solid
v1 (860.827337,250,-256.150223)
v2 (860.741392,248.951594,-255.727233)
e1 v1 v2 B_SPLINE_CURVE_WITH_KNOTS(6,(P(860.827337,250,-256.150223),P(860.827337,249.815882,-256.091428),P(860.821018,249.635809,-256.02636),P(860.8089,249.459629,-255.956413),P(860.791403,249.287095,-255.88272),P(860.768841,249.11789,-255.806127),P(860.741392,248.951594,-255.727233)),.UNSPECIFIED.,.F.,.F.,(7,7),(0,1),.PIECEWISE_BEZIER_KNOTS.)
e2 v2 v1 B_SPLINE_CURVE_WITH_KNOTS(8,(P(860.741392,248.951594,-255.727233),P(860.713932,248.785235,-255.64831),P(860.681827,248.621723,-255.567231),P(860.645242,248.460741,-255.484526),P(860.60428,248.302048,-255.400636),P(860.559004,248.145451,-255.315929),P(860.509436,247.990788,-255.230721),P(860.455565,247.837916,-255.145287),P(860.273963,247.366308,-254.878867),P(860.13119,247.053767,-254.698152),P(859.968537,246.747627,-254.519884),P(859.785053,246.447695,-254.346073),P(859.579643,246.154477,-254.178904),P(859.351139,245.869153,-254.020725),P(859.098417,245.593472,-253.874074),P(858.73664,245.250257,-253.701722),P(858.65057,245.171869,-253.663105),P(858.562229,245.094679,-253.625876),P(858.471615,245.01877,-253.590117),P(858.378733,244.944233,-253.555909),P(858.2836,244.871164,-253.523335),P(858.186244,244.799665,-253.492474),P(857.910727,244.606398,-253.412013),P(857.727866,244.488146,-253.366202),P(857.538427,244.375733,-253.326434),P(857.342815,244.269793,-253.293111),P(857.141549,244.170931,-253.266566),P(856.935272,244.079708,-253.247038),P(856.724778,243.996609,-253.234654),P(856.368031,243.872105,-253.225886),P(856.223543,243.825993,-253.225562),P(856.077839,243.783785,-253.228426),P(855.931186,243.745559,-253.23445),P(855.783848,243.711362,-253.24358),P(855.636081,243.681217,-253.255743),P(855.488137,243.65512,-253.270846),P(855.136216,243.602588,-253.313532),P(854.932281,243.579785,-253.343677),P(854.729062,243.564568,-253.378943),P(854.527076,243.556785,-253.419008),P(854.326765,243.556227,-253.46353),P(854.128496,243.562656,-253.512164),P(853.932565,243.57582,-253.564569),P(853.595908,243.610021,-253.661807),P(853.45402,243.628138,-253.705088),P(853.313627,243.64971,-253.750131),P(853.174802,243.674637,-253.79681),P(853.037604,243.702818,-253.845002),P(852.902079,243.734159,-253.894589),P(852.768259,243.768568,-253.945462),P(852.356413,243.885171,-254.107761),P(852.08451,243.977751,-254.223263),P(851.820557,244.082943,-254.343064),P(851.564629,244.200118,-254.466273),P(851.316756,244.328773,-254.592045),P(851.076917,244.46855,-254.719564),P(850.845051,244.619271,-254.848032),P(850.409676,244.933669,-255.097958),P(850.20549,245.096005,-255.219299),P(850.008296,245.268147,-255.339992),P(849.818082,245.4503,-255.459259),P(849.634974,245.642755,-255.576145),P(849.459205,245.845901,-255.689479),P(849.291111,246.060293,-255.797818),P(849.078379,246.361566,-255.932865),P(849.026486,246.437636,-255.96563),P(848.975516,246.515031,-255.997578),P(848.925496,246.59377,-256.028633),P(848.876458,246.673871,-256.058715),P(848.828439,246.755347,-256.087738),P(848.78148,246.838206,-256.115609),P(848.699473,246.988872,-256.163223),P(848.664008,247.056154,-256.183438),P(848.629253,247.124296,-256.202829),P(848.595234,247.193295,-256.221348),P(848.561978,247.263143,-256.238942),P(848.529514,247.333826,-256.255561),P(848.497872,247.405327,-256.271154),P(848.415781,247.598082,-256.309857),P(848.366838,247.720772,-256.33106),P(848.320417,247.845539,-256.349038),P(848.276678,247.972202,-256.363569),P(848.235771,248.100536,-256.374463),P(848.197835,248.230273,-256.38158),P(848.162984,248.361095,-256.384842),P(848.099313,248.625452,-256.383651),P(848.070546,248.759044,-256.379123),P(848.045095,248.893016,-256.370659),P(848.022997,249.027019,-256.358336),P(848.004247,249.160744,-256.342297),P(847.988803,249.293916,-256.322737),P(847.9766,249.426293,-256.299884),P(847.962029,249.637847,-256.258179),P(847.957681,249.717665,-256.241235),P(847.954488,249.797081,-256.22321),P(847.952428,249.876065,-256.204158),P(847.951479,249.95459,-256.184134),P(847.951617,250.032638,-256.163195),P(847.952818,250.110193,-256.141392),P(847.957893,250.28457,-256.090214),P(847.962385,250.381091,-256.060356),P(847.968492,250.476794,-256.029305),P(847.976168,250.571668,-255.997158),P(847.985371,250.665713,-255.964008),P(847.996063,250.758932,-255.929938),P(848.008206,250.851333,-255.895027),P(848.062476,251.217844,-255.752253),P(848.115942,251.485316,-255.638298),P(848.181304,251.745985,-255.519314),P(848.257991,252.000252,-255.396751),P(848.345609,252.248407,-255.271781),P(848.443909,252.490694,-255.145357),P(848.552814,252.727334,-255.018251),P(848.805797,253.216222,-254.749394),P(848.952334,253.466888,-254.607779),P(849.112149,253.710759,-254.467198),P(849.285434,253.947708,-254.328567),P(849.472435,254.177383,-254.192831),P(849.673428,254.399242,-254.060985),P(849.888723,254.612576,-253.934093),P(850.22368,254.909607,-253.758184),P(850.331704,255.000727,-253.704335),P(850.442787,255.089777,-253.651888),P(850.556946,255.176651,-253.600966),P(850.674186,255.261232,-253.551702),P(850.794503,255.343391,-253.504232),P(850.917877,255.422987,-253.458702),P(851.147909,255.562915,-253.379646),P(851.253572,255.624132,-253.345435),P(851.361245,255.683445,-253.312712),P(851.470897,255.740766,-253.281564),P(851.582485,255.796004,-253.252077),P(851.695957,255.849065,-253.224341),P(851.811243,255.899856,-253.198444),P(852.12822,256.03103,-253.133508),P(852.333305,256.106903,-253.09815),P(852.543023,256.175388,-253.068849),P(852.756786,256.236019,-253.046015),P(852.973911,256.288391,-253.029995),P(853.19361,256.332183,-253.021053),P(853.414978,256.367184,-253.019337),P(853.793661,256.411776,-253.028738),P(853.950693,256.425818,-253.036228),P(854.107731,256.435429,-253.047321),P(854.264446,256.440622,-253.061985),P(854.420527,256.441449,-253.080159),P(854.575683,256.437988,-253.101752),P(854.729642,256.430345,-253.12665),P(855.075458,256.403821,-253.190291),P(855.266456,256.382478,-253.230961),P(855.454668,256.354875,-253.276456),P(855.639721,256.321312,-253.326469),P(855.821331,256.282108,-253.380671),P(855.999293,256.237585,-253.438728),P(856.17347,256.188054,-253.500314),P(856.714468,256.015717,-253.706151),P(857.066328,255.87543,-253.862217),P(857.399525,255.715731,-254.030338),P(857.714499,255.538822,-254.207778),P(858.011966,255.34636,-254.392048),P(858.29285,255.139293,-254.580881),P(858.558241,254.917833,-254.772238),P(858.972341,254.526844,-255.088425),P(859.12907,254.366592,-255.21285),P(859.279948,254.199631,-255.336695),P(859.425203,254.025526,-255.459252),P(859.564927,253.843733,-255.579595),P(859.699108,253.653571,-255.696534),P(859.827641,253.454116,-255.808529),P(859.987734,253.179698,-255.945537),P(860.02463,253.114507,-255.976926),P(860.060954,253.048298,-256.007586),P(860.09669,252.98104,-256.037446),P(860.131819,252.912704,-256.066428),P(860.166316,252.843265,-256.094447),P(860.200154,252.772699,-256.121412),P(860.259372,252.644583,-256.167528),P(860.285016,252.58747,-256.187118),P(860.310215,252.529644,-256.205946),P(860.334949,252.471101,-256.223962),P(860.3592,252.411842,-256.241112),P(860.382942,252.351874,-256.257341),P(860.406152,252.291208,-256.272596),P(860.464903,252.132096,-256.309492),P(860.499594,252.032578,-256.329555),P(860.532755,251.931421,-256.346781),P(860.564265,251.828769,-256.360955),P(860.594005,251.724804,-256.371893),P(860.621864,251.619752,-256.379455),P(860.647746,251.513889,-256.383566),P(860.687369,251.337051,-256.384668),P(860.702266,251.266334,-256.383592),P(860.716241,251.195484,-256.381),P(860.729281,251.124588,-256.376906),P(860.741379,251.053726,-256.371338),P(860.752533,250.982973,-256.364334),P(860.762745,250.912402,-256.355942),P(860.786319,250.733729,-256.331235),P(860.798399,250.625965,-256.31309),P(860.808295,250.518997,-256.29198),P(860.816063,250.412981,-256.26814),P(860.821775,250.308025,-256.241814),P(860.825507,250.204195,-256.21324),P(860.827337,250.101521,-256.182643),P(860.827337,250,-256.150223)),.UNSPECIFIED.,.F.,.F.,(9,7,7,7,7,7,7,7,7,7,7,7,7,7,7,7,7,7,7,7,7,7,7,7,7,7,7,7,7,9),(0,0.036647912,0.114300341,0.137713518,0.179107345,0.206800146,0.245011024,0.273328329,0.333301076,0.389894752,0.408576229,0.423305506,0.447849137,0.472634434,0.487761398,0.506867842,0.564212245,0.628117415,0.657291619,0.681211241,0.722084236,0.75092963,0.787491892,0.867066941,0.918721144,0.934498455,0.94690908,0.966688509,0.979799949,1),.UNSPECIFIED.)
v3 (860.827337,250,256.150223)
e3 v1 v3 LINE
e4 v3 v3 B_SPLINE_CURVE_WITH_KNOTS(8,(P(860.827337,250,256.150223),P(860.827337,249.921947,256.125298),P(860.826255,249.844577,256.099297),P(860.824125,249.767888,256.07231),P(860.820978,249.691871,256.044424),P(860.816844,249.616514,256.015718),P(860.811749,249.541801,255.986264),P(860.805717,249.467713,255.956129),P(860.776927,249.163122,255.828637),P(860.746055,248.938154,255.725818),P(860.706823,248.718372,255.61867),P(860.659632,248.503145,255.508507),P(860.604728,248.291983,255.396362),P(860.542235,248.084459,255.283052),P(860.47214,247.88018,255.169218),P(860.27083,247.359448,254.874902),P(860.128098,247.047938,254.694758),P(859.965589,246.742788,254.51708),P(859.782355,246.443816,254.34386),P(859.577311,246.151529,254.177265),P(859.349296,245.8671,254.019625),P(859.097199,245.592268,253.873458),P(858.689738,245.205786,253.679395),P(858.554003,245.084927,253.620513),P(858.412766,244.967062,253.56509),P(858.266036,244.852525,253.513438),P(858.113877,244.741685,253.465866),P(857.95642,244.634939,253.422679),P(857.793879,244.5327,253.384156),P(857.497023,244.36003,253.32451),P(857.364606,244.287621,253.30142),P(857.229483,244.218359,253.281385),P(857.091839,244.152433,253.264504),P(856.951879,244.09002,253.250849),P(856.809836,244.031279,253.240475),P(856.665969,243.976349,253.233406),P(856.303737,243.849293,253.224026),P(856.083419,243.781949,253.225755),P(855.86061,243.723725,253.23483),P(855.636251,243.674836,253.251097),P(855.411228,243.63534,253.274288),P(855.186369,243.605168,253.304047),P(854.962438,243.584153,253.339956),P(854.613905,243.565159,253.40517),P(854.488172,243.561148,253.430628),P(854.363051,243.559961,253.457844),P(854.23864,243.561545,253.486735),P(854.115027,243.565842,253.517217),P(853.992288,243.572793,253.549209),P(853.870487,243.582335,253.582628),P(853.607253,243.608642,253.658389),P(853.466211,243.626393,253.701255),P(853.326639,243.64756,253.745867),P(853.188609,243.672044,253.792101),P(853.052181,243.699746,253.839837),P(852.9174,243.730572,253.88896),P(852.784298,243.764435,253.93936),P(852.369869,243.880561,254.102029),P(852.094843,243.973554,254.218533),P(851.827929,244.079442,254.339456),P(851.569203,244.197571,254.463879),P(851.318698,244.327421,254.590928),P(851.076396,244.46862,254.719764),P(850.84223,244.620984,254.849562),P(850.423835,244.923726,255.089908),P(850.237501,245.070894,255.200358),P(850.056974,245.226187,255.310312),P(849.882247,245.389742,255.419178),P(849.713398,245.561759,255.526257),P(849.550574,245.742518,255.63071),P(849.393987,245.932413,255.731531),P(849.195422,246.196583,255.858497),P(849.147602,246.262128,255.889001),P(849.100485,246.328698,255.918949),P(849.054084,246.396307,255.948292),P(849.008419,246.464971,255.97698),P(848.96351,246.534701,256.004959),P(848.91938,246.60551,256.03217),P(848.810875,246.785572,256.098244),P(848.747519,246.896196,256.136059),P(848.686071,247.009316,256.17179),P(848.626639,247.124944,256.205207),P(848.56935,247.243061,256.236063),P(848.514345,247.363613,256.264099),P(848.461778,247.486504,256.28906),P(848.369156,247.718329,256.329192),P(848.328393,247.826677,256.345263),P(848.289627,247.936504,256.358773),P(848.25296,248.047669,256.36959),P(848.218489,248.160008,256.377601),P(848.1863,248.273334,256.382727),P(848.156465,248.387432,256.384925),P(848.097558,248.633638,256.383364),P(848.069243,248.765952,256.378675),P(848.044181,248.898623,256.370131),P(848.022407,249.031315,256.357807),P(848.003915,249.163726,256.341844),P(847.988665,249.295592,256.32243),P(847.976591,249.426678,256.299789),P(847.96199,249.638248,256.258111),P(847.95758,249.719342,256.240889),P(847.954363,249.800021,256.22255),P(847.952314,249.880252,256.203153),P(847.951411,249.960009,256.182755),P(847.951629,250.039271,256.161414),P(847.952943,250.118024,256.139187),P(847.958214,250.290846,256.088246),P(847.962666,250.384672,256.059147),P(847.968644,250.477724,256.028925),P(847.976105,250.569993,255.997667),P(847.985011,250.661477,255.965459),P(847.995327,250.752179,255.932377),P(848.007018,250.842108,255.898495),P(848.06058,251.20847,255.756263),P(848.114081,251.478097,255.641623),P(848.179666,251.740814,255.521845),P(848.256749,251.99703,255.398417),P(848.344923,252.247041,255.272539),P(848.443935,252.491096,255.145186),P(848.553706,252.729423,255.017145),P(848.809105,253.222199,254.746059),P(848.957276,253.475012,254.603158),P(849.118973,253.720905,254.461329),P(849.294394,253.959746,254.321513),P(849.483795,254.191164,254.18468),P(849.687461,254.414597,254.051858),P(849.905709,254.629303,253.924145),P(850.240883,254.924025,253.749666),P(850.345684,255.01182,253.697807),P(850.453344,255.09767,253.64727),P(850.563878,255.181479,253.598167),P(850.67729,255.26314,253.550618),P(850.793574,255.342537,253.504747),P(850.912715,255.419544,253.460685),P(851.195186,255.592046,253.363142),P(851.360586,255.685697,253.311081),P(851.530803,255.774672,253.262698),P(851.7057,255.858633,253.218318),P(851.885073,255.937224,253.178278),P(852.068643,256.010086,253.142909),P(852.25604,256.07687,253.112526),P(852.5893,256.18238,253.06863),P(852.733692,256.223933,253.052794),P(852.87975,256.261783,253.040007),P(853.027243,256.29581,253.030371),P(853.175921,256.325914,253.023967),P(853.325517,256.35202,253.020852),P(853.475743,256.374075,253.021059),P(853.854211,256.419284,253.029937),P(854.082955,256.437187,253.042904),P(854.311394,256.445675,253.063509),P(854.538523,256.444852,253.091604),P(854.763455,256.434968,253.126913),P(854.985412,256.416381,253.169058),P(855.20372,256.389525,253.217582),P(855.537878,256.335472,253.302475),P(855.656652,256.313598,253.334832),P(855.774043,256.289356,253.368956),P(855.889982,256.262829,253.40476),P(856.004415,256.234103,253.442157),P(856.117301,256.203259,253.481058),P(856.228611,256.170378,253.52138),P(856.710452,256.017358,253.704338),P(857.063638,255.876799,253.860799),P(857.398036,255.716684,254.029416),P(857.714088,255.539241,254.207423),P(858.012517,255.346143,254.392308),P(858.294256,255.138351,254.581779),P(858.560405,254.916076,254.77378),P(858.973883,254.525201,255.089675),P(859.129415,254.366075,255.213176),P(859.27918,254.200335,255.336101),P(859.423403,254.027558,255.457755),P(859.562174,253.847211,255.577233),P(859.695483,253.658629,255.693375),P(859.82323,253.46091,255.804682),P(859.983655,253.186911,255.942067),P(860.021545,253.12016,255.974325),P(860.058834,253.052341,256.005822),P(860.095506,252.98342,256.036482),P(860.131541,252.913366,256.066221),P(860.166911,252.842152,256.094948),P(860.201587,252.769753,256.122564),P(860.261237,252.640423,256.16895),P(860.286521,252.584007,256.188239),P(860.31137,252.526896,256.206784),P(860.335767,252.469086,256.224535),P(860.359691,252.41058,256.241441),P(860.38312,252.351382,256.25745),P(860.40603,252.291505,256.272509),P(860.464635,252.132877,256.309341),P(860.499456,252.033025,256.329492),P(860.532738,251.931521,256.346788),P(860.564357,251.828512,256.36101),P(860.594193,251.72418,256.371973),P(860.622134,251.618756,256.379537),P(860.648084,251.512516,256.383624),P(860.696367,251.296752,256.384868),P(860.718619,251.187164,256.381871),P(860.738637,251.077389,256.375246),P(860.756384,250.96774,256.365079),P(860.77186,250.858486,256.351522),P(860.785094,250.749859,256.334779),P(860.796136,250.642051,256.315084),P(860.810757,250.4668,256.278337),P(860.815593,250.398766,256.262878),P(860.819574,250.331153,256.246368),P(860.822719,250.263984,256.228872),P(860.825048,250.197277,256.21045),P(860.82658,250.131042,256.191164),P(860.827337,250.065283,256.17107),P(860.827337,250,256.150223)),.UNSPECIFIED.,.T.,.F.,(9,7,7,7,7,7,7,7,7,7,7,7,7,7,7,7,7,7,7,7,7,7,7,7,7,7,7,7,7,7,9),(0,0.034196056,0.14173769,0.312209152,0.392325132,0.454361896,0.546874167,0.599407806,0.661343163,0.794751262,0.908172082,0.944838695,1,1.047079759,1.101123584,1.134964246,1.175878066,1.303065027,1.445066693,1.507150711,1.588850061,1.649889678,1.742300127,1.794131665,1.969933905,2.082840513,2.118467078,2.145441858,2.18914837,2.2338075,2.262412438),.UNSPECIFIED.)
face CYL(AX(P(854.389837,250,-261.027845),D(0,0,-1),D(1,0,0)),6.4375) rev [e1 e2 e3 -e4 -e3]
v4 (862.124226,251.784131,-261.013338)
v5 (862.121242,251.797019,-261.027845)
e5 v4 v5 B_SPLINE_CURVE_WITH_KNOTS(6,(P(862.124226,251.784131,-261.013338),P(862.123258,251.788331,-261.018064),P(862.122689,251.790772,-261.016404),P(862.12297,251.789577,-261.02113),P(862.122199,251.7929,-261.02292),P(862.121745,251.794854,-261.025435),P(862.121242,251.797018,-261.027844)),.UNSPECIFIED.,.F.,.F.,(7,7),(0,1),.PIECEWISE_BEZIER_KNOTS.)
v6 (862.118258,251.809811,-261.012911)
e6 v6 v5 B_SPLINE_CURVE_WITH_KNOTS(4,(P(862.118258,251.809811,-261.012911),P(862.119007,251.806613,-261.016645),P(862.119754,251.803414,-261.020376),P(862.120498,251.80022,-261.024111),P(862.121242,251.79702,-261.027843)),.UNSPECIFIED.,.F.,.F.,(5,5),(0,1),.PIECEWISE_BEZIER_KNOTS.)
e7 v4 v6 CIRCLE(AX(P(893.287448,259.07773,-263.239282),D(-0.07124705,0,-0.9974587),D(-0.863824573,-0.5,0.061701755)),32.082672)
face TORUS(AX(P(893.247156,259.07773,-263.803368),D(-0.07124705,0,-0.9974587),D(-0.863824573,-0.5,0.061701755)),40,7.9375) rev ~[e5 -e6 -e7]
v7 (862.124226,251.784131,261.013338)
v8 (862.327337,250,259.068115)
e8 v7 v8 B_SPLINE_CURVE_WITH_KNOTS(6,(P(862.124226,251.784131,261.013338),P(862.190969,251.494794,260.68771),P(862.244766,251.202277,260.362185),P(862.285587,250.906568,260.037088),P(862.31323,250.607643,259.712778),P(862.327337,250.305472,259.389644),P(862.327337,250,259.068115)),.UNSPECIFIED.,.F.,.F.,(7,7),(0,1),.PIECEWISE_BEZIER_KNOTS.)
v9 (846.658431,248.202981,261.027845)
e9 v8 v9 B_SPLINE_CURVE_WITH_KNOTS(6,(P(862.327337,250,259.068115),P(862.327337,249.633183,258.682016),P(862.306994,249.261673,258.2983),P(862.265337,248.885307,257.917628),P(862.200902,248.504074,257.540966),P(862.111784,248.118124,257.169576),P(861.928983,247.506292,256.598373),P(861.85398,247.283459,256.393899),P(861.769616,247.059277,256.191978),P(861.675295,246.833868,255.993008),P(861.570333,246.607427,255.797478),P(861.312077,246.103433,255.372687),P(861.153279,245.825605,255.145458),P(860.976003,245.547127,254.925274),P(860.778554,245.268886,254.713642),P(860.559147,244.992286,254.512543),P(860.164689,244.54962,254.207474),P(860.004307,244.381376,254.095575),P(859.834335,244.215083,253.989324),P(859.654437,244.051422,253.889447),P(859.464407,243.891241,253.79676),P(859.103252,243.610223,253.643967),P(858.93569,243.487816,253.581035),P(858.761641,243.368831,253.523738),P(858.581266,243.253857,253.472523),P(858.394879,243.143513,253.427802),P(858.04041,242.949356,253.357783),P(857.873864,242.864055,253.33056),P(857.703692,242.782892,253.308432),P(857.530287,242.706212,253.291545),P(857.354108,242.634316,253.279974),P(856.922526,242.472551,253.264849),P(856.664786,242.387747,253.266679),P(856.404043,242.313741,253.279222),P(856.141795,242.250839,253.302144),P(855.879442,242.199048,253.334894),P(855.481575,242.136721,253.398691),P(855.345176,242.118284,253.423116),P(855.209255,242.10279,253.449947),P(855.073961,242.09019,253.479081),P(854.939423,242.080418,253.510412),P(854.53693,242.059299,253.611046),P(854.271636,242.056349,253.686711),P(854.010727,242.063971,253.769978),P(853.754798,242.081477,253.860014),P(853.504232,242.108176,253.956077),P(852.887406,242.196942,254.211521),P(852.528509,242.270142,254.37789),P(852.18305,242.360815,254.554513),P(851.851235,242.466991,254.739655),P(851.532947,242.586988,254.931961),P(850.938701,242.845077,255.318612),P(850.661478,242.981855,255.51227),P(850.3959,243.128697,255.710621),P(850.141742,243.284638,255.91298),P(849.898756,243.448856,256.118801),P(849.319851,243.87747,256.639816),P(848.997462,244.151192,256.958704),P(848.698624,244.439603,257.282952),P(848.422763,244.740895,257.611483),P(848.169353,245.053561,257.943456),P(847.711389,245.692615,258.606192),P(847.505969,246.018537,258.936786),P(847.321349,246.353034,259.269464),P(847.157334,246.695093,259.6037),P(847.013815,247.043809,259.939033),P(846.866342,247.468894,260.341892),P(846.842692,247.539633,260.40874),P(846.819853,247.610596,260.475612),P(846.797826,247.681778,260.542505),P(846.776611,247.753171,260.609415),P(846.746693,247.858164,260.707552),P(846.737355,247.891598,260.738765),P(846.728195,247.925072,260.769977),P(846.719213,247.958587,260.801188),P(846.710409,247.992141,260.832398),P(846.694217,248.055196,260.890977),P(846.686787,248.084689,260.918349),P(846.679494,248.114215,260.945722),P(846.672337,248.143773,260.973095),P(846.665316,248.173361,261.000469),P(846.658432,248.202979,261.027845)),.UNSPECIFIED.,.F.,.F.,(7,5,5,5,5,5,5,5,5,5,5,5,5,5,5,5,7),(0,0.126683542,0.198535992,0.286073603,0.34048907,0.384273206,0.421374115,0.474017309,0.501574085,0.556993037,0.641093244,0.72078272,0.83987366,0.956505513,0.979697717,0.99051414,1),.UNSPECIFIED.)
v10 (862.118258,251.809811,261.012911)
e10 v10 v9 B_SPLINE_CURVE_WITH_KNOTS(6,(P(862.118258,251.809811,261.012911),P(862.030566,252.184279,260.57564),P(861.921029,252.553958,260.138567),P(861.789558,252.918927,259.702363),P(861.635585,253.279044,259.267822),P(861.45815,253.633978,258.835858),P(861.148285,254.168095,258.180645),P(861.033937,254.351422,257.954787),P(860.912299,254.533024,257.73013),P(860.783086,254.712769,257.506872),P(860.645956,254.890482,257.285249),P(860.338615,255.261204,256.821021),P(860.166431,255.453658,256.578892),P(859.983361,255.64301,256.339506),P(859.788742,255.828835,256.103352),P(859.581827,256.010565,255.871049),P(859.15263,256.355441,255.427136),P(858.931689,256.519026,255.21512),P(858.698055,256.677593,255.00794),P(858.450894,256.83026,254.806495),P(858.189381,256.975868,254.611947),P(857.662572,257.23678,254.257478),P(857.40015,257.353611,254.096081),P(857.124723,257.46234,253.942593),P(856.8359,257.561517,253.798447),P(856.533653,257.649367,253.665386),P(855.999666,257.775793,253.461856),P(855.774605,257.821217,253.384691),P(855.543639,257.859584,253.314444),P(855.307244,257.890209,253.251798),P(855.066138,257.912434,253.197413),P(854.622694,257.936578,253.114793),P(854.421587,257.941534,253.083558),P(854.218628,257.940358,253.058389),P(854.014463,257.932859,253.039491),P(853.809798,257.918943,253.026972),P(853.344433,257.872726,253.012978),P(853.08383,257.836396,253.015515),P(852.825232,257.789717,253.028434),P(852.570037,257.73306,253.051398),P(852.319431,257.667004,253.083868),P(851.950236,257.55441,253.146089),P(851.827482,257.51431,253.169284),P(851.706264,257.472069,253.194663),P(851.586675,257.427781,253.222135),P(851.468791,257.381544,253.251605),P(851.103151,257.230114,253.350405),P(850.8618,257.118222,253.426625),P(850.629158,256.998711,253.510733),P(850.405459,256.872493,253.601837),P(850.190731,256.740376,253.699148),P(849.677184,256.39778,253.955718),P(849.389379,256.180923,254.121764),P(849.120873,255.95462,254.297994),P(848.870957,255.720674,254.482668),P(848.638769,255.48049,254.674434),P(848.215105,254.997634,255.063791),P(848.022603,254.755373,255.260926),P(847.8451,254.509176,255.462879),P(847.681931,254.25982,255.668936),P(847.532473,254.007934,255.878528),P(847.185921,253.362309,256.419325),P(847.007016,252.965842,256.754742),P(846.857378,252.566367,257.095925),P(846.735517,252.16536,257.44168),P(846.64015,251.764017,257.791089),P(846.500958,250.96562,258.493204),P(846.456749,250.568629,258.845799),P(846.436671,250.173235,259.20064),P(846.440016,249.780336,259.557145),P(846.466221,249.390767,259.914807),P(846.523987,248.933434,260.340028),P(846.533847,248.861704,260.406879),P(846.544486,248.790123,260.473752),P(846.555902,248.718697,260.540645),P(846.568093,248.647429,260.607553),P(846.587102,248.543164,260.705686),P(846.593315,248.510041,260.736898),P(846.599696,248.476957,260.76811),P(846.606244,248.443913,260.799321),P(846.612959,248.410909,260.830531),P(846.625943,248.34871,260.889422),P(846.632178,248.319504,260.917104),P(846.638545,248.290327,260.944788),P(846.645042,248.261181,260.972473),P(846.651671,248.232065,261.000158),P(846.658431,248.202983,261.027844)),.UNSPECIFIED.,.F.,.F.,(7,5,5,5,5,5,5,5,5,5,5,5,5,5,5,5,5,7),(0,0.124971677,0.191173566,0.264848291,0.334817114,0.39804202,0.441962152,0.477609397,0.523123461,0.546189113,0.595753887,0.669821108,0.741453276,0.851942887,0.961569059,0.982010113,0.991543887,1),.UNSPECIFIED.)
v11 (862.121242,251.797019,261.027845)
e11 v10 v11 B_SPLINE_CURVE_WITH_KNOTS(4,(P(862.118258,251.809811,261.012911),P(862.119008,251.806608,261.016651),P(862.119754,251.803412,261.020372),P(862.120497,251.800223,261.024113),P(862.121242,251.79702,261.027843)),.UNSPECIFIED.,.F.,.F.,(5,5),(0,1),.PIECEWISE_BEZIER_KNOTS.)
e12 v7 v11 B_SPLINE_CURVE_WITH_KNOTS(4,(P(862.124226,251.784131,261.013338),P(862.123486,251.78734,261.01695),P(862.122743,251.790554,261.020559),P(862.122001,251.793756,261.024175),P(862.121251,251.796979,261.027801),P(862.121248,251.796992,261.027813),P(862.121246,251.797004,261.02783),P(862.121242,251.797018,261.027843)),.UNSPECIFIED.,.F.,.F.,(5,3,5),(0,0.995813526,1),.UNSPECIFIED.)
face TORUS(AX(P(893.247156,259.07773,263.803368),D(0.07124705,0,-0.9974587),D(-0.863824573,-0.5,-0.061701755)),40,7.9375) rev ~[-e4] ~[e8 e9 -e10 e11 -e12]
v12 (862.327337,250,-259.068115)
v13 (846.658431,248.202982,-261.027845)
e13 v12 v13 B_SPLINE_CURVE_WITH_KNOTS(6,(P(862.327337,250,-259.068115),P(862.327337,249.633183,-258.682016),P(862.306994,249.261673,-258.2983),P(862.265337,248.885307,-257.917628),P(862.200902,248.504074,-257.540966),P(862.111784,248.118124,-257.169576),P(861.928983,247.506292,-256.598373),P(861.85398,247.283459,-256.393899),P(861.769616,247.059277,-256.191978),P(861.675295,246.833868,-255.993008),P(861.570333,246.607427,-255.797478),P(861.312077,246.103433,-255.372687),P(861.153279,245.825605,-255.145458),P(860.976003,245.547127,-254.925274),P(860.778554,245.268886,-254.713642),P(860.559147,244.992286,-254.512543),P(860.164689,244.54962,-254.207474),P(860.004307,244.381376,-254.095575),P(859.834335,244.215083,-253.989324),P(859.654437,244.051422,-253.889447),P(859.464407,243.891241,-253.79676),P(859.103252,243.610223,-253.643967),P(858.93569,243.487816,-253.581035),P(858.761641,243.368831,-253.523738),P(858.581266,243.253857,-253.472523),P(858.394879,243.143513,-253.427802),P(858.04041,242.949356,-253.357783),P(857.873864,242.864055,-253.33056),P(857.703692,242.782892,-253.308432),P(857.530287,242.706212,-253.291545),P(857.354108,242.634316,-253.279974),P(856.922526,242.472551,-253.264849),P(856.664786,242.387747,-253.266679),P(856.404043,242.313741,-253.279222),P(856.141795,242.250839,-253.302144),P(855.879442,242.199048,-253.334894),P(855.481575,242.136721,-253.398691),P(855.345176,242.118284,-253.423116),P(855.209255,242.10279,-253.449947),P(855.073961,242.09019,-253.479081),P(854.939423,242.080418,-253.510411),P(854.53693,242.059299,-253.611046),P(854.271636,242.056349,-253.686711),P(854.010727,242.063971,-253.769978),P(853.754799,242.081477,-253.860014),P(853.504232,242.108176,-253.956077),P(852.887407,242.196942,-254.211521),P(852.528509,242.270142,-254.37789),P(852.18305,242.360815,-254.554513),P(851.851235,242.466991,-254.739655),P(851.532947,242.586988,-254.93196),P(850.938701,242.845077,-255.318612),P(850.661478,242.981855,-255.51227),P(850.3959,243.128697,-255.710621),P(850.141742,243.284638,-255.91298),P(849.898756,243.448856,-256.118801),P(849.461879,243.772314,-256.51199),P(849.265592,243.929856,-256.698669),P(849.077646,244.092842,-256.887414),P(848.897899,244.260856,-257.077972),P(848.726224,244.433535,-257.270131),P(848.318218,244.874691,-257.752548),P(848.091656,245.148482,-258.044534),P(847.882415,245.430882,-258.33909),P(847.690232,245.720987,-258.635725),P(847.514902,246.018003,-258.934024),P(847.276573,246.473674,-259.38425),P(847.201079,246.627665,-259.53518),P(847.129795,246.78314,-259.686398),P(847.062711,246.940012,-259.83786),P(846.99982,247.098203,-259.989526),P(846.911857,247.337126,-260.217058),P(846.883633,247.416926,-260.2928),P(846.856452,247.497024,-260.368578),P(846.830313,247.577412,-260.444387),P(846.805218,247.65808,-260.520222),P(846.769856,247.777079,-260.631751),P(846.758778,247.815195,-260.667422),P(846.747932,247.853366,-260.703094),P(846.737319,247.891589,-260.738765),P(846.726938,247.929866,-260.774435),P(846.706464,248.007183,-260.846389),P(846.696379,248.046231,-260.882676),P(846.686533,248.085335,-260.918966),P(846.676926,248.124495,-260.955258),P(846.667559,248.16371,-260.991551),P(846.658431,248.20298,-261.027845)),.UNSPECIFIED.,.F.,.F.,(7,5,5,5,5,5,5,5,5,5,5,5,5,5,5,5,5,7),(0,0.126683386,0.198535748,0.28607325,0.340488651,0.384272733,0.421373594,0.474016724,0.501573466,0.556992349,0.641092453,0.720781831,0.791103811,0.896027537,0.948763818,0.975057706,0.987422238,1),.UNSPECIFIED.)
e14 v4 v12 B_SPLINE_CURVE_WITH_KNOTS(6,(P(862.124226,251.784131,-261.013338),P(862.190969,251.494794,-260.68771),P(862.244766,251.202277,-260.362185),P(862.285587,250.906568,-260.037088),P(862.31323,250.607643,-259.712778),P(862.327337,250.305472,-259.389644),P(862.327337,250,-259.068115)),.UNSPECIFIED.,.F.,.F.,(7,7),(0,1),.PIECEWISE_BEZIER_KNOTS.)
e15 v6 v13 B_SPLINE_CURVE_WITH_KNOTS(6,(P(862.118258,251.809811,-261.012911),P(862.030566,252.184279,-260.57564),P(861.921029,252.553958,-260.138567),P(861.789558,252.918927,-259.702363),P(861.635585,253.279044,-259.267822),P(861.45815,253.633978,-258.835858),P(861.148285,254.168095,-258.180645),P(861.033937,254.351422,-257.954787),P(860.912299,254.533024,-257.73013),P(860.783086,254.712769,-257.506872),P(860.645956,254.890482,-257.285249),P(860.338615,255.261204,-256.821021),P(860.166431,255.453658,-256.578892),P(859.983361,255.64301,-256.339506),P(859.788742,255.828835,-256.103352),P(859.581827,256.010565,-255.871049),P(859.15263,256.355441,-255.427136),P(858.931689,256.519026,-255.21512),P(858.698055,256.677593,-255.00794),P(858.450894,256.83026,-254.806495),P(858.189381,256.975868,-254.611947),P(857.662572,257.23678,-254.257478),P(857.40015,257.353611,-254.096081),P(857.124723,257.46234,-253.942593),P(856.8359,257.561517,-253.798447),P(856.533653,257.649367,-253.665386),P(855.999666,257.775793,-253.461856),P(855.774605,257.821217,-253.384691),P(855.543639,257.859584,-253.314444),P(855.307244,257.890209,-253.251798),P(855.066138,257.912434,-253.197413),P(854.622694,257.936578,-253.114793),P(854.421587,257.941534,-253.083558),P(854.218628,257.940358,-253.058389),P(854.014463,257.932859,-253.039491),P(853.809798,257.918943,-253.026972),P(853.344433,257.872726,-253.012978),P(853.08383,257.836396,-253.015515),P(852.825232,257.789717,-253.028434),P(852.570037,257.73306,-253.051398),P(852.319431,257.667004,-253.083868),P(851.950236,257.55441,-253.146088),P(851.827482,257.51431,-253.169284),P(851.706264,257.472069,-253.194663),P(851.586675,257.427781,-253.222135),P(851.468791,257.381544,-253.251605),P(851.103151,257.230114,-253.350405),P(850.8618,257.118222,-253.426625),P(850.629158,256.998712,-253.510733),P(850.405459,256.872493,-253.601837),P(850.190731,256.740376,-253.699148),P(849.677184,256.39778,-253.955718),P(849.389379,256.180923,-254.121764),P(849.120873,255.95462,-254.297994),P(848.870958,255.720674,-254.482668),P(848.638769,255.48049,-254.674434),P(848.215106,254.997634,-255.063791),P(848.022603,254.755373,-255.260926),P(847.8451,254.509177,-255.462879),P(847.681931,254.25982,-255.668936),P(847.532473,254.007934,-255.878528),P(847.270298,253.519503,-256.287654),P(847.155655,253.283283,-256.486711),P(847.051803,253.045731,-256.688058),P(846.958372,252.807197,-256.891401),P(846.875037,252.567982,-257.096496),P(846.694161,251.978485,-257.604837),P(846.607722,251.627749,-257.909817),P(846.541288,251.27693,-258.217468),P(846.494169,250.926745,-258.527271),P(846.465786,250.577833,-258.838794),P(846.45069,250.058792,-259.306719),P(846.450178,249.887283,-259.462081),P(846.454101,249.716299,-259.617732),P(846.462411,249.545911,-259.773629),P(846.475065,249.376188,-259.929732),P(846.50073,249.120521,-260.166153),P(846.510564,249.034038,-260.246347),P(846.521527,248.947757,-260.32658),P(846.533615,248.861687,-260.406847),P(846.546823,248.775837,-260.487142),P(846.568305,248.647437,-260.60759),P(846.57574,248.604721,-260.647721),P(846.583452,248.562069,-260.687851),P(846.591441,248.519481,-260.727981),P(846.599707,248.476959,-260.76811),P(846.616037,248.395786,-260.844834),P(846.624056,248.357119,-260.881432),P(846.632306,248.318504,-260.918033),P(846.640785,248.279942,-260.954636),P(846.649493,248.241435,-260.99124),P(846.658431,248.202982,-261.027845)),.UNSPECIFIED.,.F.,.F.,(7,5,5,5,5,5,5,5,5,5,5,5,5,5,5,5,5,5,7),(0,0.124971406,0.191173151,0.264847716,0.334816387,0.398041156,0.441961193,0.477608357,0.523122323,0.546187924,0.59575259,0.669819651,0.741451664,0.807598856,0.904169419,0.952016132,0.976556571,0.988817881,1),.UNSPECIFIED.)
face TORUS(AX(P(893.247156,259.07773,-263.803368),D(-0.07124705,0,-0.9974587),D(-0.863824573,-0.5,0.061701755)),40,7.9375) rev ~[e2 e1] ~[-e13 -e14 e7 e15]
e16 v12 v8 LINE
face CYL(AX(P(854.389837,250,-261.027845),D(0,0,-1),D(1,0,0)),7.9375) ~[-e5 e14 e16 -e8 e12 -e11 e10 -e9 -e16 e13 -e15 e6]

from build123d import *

# Parameters (mm, degrees)
SKETCH1_R                          = 7.9375
SKETCH1_R_2                        = 6.437500000000001
PIPE_CONFIGURED_21_3_X_2_3_3_DEPTH = 522.055690959
ESBO_O11_R                         = 7.937500000000085
ESBO_O12_R                         = 7.937500000000085


with BuildPart() as part:
    # Sketch1 → Pipe - configured 21.3 X 2.3(3) (new body)
    with BuildSketch(Plane(origin=(854.3898367144717, 250, -261.0278454796051), x_dir=(1, 0, 0), z_dir=(0, 0, 1))):
        Circle(SKETCH1_R)
        Circle(SKETCH1_R_2, mode=Mode.SUBTRACT)
    extrude(amount=PIPE_CONFIGURED_21_3_X_2_3_3_DEPTH)

    # Varredura de corte1: sweep along a curve in space
    with BuildLine() as varredura_de_corte1_path:
        Line((910.0000000000001, 0, 265), (910.0000000000001, 139.26905749604418, 265))
        ThreePointArc((910.0000000000001, 139.26905749604418, 265), (908.6404967596997, 149.62181930014503, 264.9028926256928), (904.6546349379392, 159.26905749604424, 264.61818820985286))
        Line((904.6546349379392, 159.26905749604424, 264.61818820985286), (858.6941735437408, 239.0777295619333, 261.3352981102673))
        ThreePointArc((858.6941735437408, 239.0777295619333, 261.3352981102673), (854.2945586384378, 250.42014500440925, 261.02103990274554), (853.500633741435, 262.56395927183974, 260.964330981531))
        Line((853.500633741435, 262.56395927183974, 260.964330981531), (910.0000000000001, 910, 265))
    # Esboço11 → Varredura de corte1 (sweep, cut)
    with BuildSketch(Plane(origin=(0, 0, 0), x_dir=(1, 0, 0), z_dir=(0, 1, 0))):
        with Locations((910.0000000000001, -265)):
            Circle(ESBO_O11_R)
    sweep(path=varredura_de_corte1_path.line, mode=Mode.SUBTRACT)

    # Varredura de corte2: sweep along a curve in space
    with BuildLine() as varredura_de_corte2_path:
        Line((910.0000000000001, 0, -265), (910.0000000000001, 139.26905749604356, -265))
        ThreePointArc((910.0000000000001, 139.26905749604356, -265), (908.6404967596995, 149.62181930014447, -264.9028926256928), (904.6546349379391, 159.26905749604364, -264.6181882098528))
        Line((904.6546349379391, 159.26905749604364, -264.6181882098528), (858.6941735437406, 239.07772956193315, -261.33529811026716))
        ThreePointArc((858.6941735437406, 239.07772956193315, -261.33529811026716), (854.2945586384376, 250.4201450044091, -261.0210399027455), (853.5006337414345, 262.5639592718396, -260.96433098153096))
        Line((853.5006337414345, 262.5639592718396, -260.96433098153096), (910.0000000000001, 910, -265))
    # Esboço12 → Varredura de corte2 (sweep, cut)
    with BuildSketch(Plane(origin=(0, 0, 0), x_dir=(1, 0, 0), z_dir=(0, 1, 0))):
        with Locations((910.0000000000001, 265)):
            Circle(ESBO_O12_R)
    sweep(path=varredura_de_corte2_path.line, mode=Mode.SUBTRACT)


solid = part.part
